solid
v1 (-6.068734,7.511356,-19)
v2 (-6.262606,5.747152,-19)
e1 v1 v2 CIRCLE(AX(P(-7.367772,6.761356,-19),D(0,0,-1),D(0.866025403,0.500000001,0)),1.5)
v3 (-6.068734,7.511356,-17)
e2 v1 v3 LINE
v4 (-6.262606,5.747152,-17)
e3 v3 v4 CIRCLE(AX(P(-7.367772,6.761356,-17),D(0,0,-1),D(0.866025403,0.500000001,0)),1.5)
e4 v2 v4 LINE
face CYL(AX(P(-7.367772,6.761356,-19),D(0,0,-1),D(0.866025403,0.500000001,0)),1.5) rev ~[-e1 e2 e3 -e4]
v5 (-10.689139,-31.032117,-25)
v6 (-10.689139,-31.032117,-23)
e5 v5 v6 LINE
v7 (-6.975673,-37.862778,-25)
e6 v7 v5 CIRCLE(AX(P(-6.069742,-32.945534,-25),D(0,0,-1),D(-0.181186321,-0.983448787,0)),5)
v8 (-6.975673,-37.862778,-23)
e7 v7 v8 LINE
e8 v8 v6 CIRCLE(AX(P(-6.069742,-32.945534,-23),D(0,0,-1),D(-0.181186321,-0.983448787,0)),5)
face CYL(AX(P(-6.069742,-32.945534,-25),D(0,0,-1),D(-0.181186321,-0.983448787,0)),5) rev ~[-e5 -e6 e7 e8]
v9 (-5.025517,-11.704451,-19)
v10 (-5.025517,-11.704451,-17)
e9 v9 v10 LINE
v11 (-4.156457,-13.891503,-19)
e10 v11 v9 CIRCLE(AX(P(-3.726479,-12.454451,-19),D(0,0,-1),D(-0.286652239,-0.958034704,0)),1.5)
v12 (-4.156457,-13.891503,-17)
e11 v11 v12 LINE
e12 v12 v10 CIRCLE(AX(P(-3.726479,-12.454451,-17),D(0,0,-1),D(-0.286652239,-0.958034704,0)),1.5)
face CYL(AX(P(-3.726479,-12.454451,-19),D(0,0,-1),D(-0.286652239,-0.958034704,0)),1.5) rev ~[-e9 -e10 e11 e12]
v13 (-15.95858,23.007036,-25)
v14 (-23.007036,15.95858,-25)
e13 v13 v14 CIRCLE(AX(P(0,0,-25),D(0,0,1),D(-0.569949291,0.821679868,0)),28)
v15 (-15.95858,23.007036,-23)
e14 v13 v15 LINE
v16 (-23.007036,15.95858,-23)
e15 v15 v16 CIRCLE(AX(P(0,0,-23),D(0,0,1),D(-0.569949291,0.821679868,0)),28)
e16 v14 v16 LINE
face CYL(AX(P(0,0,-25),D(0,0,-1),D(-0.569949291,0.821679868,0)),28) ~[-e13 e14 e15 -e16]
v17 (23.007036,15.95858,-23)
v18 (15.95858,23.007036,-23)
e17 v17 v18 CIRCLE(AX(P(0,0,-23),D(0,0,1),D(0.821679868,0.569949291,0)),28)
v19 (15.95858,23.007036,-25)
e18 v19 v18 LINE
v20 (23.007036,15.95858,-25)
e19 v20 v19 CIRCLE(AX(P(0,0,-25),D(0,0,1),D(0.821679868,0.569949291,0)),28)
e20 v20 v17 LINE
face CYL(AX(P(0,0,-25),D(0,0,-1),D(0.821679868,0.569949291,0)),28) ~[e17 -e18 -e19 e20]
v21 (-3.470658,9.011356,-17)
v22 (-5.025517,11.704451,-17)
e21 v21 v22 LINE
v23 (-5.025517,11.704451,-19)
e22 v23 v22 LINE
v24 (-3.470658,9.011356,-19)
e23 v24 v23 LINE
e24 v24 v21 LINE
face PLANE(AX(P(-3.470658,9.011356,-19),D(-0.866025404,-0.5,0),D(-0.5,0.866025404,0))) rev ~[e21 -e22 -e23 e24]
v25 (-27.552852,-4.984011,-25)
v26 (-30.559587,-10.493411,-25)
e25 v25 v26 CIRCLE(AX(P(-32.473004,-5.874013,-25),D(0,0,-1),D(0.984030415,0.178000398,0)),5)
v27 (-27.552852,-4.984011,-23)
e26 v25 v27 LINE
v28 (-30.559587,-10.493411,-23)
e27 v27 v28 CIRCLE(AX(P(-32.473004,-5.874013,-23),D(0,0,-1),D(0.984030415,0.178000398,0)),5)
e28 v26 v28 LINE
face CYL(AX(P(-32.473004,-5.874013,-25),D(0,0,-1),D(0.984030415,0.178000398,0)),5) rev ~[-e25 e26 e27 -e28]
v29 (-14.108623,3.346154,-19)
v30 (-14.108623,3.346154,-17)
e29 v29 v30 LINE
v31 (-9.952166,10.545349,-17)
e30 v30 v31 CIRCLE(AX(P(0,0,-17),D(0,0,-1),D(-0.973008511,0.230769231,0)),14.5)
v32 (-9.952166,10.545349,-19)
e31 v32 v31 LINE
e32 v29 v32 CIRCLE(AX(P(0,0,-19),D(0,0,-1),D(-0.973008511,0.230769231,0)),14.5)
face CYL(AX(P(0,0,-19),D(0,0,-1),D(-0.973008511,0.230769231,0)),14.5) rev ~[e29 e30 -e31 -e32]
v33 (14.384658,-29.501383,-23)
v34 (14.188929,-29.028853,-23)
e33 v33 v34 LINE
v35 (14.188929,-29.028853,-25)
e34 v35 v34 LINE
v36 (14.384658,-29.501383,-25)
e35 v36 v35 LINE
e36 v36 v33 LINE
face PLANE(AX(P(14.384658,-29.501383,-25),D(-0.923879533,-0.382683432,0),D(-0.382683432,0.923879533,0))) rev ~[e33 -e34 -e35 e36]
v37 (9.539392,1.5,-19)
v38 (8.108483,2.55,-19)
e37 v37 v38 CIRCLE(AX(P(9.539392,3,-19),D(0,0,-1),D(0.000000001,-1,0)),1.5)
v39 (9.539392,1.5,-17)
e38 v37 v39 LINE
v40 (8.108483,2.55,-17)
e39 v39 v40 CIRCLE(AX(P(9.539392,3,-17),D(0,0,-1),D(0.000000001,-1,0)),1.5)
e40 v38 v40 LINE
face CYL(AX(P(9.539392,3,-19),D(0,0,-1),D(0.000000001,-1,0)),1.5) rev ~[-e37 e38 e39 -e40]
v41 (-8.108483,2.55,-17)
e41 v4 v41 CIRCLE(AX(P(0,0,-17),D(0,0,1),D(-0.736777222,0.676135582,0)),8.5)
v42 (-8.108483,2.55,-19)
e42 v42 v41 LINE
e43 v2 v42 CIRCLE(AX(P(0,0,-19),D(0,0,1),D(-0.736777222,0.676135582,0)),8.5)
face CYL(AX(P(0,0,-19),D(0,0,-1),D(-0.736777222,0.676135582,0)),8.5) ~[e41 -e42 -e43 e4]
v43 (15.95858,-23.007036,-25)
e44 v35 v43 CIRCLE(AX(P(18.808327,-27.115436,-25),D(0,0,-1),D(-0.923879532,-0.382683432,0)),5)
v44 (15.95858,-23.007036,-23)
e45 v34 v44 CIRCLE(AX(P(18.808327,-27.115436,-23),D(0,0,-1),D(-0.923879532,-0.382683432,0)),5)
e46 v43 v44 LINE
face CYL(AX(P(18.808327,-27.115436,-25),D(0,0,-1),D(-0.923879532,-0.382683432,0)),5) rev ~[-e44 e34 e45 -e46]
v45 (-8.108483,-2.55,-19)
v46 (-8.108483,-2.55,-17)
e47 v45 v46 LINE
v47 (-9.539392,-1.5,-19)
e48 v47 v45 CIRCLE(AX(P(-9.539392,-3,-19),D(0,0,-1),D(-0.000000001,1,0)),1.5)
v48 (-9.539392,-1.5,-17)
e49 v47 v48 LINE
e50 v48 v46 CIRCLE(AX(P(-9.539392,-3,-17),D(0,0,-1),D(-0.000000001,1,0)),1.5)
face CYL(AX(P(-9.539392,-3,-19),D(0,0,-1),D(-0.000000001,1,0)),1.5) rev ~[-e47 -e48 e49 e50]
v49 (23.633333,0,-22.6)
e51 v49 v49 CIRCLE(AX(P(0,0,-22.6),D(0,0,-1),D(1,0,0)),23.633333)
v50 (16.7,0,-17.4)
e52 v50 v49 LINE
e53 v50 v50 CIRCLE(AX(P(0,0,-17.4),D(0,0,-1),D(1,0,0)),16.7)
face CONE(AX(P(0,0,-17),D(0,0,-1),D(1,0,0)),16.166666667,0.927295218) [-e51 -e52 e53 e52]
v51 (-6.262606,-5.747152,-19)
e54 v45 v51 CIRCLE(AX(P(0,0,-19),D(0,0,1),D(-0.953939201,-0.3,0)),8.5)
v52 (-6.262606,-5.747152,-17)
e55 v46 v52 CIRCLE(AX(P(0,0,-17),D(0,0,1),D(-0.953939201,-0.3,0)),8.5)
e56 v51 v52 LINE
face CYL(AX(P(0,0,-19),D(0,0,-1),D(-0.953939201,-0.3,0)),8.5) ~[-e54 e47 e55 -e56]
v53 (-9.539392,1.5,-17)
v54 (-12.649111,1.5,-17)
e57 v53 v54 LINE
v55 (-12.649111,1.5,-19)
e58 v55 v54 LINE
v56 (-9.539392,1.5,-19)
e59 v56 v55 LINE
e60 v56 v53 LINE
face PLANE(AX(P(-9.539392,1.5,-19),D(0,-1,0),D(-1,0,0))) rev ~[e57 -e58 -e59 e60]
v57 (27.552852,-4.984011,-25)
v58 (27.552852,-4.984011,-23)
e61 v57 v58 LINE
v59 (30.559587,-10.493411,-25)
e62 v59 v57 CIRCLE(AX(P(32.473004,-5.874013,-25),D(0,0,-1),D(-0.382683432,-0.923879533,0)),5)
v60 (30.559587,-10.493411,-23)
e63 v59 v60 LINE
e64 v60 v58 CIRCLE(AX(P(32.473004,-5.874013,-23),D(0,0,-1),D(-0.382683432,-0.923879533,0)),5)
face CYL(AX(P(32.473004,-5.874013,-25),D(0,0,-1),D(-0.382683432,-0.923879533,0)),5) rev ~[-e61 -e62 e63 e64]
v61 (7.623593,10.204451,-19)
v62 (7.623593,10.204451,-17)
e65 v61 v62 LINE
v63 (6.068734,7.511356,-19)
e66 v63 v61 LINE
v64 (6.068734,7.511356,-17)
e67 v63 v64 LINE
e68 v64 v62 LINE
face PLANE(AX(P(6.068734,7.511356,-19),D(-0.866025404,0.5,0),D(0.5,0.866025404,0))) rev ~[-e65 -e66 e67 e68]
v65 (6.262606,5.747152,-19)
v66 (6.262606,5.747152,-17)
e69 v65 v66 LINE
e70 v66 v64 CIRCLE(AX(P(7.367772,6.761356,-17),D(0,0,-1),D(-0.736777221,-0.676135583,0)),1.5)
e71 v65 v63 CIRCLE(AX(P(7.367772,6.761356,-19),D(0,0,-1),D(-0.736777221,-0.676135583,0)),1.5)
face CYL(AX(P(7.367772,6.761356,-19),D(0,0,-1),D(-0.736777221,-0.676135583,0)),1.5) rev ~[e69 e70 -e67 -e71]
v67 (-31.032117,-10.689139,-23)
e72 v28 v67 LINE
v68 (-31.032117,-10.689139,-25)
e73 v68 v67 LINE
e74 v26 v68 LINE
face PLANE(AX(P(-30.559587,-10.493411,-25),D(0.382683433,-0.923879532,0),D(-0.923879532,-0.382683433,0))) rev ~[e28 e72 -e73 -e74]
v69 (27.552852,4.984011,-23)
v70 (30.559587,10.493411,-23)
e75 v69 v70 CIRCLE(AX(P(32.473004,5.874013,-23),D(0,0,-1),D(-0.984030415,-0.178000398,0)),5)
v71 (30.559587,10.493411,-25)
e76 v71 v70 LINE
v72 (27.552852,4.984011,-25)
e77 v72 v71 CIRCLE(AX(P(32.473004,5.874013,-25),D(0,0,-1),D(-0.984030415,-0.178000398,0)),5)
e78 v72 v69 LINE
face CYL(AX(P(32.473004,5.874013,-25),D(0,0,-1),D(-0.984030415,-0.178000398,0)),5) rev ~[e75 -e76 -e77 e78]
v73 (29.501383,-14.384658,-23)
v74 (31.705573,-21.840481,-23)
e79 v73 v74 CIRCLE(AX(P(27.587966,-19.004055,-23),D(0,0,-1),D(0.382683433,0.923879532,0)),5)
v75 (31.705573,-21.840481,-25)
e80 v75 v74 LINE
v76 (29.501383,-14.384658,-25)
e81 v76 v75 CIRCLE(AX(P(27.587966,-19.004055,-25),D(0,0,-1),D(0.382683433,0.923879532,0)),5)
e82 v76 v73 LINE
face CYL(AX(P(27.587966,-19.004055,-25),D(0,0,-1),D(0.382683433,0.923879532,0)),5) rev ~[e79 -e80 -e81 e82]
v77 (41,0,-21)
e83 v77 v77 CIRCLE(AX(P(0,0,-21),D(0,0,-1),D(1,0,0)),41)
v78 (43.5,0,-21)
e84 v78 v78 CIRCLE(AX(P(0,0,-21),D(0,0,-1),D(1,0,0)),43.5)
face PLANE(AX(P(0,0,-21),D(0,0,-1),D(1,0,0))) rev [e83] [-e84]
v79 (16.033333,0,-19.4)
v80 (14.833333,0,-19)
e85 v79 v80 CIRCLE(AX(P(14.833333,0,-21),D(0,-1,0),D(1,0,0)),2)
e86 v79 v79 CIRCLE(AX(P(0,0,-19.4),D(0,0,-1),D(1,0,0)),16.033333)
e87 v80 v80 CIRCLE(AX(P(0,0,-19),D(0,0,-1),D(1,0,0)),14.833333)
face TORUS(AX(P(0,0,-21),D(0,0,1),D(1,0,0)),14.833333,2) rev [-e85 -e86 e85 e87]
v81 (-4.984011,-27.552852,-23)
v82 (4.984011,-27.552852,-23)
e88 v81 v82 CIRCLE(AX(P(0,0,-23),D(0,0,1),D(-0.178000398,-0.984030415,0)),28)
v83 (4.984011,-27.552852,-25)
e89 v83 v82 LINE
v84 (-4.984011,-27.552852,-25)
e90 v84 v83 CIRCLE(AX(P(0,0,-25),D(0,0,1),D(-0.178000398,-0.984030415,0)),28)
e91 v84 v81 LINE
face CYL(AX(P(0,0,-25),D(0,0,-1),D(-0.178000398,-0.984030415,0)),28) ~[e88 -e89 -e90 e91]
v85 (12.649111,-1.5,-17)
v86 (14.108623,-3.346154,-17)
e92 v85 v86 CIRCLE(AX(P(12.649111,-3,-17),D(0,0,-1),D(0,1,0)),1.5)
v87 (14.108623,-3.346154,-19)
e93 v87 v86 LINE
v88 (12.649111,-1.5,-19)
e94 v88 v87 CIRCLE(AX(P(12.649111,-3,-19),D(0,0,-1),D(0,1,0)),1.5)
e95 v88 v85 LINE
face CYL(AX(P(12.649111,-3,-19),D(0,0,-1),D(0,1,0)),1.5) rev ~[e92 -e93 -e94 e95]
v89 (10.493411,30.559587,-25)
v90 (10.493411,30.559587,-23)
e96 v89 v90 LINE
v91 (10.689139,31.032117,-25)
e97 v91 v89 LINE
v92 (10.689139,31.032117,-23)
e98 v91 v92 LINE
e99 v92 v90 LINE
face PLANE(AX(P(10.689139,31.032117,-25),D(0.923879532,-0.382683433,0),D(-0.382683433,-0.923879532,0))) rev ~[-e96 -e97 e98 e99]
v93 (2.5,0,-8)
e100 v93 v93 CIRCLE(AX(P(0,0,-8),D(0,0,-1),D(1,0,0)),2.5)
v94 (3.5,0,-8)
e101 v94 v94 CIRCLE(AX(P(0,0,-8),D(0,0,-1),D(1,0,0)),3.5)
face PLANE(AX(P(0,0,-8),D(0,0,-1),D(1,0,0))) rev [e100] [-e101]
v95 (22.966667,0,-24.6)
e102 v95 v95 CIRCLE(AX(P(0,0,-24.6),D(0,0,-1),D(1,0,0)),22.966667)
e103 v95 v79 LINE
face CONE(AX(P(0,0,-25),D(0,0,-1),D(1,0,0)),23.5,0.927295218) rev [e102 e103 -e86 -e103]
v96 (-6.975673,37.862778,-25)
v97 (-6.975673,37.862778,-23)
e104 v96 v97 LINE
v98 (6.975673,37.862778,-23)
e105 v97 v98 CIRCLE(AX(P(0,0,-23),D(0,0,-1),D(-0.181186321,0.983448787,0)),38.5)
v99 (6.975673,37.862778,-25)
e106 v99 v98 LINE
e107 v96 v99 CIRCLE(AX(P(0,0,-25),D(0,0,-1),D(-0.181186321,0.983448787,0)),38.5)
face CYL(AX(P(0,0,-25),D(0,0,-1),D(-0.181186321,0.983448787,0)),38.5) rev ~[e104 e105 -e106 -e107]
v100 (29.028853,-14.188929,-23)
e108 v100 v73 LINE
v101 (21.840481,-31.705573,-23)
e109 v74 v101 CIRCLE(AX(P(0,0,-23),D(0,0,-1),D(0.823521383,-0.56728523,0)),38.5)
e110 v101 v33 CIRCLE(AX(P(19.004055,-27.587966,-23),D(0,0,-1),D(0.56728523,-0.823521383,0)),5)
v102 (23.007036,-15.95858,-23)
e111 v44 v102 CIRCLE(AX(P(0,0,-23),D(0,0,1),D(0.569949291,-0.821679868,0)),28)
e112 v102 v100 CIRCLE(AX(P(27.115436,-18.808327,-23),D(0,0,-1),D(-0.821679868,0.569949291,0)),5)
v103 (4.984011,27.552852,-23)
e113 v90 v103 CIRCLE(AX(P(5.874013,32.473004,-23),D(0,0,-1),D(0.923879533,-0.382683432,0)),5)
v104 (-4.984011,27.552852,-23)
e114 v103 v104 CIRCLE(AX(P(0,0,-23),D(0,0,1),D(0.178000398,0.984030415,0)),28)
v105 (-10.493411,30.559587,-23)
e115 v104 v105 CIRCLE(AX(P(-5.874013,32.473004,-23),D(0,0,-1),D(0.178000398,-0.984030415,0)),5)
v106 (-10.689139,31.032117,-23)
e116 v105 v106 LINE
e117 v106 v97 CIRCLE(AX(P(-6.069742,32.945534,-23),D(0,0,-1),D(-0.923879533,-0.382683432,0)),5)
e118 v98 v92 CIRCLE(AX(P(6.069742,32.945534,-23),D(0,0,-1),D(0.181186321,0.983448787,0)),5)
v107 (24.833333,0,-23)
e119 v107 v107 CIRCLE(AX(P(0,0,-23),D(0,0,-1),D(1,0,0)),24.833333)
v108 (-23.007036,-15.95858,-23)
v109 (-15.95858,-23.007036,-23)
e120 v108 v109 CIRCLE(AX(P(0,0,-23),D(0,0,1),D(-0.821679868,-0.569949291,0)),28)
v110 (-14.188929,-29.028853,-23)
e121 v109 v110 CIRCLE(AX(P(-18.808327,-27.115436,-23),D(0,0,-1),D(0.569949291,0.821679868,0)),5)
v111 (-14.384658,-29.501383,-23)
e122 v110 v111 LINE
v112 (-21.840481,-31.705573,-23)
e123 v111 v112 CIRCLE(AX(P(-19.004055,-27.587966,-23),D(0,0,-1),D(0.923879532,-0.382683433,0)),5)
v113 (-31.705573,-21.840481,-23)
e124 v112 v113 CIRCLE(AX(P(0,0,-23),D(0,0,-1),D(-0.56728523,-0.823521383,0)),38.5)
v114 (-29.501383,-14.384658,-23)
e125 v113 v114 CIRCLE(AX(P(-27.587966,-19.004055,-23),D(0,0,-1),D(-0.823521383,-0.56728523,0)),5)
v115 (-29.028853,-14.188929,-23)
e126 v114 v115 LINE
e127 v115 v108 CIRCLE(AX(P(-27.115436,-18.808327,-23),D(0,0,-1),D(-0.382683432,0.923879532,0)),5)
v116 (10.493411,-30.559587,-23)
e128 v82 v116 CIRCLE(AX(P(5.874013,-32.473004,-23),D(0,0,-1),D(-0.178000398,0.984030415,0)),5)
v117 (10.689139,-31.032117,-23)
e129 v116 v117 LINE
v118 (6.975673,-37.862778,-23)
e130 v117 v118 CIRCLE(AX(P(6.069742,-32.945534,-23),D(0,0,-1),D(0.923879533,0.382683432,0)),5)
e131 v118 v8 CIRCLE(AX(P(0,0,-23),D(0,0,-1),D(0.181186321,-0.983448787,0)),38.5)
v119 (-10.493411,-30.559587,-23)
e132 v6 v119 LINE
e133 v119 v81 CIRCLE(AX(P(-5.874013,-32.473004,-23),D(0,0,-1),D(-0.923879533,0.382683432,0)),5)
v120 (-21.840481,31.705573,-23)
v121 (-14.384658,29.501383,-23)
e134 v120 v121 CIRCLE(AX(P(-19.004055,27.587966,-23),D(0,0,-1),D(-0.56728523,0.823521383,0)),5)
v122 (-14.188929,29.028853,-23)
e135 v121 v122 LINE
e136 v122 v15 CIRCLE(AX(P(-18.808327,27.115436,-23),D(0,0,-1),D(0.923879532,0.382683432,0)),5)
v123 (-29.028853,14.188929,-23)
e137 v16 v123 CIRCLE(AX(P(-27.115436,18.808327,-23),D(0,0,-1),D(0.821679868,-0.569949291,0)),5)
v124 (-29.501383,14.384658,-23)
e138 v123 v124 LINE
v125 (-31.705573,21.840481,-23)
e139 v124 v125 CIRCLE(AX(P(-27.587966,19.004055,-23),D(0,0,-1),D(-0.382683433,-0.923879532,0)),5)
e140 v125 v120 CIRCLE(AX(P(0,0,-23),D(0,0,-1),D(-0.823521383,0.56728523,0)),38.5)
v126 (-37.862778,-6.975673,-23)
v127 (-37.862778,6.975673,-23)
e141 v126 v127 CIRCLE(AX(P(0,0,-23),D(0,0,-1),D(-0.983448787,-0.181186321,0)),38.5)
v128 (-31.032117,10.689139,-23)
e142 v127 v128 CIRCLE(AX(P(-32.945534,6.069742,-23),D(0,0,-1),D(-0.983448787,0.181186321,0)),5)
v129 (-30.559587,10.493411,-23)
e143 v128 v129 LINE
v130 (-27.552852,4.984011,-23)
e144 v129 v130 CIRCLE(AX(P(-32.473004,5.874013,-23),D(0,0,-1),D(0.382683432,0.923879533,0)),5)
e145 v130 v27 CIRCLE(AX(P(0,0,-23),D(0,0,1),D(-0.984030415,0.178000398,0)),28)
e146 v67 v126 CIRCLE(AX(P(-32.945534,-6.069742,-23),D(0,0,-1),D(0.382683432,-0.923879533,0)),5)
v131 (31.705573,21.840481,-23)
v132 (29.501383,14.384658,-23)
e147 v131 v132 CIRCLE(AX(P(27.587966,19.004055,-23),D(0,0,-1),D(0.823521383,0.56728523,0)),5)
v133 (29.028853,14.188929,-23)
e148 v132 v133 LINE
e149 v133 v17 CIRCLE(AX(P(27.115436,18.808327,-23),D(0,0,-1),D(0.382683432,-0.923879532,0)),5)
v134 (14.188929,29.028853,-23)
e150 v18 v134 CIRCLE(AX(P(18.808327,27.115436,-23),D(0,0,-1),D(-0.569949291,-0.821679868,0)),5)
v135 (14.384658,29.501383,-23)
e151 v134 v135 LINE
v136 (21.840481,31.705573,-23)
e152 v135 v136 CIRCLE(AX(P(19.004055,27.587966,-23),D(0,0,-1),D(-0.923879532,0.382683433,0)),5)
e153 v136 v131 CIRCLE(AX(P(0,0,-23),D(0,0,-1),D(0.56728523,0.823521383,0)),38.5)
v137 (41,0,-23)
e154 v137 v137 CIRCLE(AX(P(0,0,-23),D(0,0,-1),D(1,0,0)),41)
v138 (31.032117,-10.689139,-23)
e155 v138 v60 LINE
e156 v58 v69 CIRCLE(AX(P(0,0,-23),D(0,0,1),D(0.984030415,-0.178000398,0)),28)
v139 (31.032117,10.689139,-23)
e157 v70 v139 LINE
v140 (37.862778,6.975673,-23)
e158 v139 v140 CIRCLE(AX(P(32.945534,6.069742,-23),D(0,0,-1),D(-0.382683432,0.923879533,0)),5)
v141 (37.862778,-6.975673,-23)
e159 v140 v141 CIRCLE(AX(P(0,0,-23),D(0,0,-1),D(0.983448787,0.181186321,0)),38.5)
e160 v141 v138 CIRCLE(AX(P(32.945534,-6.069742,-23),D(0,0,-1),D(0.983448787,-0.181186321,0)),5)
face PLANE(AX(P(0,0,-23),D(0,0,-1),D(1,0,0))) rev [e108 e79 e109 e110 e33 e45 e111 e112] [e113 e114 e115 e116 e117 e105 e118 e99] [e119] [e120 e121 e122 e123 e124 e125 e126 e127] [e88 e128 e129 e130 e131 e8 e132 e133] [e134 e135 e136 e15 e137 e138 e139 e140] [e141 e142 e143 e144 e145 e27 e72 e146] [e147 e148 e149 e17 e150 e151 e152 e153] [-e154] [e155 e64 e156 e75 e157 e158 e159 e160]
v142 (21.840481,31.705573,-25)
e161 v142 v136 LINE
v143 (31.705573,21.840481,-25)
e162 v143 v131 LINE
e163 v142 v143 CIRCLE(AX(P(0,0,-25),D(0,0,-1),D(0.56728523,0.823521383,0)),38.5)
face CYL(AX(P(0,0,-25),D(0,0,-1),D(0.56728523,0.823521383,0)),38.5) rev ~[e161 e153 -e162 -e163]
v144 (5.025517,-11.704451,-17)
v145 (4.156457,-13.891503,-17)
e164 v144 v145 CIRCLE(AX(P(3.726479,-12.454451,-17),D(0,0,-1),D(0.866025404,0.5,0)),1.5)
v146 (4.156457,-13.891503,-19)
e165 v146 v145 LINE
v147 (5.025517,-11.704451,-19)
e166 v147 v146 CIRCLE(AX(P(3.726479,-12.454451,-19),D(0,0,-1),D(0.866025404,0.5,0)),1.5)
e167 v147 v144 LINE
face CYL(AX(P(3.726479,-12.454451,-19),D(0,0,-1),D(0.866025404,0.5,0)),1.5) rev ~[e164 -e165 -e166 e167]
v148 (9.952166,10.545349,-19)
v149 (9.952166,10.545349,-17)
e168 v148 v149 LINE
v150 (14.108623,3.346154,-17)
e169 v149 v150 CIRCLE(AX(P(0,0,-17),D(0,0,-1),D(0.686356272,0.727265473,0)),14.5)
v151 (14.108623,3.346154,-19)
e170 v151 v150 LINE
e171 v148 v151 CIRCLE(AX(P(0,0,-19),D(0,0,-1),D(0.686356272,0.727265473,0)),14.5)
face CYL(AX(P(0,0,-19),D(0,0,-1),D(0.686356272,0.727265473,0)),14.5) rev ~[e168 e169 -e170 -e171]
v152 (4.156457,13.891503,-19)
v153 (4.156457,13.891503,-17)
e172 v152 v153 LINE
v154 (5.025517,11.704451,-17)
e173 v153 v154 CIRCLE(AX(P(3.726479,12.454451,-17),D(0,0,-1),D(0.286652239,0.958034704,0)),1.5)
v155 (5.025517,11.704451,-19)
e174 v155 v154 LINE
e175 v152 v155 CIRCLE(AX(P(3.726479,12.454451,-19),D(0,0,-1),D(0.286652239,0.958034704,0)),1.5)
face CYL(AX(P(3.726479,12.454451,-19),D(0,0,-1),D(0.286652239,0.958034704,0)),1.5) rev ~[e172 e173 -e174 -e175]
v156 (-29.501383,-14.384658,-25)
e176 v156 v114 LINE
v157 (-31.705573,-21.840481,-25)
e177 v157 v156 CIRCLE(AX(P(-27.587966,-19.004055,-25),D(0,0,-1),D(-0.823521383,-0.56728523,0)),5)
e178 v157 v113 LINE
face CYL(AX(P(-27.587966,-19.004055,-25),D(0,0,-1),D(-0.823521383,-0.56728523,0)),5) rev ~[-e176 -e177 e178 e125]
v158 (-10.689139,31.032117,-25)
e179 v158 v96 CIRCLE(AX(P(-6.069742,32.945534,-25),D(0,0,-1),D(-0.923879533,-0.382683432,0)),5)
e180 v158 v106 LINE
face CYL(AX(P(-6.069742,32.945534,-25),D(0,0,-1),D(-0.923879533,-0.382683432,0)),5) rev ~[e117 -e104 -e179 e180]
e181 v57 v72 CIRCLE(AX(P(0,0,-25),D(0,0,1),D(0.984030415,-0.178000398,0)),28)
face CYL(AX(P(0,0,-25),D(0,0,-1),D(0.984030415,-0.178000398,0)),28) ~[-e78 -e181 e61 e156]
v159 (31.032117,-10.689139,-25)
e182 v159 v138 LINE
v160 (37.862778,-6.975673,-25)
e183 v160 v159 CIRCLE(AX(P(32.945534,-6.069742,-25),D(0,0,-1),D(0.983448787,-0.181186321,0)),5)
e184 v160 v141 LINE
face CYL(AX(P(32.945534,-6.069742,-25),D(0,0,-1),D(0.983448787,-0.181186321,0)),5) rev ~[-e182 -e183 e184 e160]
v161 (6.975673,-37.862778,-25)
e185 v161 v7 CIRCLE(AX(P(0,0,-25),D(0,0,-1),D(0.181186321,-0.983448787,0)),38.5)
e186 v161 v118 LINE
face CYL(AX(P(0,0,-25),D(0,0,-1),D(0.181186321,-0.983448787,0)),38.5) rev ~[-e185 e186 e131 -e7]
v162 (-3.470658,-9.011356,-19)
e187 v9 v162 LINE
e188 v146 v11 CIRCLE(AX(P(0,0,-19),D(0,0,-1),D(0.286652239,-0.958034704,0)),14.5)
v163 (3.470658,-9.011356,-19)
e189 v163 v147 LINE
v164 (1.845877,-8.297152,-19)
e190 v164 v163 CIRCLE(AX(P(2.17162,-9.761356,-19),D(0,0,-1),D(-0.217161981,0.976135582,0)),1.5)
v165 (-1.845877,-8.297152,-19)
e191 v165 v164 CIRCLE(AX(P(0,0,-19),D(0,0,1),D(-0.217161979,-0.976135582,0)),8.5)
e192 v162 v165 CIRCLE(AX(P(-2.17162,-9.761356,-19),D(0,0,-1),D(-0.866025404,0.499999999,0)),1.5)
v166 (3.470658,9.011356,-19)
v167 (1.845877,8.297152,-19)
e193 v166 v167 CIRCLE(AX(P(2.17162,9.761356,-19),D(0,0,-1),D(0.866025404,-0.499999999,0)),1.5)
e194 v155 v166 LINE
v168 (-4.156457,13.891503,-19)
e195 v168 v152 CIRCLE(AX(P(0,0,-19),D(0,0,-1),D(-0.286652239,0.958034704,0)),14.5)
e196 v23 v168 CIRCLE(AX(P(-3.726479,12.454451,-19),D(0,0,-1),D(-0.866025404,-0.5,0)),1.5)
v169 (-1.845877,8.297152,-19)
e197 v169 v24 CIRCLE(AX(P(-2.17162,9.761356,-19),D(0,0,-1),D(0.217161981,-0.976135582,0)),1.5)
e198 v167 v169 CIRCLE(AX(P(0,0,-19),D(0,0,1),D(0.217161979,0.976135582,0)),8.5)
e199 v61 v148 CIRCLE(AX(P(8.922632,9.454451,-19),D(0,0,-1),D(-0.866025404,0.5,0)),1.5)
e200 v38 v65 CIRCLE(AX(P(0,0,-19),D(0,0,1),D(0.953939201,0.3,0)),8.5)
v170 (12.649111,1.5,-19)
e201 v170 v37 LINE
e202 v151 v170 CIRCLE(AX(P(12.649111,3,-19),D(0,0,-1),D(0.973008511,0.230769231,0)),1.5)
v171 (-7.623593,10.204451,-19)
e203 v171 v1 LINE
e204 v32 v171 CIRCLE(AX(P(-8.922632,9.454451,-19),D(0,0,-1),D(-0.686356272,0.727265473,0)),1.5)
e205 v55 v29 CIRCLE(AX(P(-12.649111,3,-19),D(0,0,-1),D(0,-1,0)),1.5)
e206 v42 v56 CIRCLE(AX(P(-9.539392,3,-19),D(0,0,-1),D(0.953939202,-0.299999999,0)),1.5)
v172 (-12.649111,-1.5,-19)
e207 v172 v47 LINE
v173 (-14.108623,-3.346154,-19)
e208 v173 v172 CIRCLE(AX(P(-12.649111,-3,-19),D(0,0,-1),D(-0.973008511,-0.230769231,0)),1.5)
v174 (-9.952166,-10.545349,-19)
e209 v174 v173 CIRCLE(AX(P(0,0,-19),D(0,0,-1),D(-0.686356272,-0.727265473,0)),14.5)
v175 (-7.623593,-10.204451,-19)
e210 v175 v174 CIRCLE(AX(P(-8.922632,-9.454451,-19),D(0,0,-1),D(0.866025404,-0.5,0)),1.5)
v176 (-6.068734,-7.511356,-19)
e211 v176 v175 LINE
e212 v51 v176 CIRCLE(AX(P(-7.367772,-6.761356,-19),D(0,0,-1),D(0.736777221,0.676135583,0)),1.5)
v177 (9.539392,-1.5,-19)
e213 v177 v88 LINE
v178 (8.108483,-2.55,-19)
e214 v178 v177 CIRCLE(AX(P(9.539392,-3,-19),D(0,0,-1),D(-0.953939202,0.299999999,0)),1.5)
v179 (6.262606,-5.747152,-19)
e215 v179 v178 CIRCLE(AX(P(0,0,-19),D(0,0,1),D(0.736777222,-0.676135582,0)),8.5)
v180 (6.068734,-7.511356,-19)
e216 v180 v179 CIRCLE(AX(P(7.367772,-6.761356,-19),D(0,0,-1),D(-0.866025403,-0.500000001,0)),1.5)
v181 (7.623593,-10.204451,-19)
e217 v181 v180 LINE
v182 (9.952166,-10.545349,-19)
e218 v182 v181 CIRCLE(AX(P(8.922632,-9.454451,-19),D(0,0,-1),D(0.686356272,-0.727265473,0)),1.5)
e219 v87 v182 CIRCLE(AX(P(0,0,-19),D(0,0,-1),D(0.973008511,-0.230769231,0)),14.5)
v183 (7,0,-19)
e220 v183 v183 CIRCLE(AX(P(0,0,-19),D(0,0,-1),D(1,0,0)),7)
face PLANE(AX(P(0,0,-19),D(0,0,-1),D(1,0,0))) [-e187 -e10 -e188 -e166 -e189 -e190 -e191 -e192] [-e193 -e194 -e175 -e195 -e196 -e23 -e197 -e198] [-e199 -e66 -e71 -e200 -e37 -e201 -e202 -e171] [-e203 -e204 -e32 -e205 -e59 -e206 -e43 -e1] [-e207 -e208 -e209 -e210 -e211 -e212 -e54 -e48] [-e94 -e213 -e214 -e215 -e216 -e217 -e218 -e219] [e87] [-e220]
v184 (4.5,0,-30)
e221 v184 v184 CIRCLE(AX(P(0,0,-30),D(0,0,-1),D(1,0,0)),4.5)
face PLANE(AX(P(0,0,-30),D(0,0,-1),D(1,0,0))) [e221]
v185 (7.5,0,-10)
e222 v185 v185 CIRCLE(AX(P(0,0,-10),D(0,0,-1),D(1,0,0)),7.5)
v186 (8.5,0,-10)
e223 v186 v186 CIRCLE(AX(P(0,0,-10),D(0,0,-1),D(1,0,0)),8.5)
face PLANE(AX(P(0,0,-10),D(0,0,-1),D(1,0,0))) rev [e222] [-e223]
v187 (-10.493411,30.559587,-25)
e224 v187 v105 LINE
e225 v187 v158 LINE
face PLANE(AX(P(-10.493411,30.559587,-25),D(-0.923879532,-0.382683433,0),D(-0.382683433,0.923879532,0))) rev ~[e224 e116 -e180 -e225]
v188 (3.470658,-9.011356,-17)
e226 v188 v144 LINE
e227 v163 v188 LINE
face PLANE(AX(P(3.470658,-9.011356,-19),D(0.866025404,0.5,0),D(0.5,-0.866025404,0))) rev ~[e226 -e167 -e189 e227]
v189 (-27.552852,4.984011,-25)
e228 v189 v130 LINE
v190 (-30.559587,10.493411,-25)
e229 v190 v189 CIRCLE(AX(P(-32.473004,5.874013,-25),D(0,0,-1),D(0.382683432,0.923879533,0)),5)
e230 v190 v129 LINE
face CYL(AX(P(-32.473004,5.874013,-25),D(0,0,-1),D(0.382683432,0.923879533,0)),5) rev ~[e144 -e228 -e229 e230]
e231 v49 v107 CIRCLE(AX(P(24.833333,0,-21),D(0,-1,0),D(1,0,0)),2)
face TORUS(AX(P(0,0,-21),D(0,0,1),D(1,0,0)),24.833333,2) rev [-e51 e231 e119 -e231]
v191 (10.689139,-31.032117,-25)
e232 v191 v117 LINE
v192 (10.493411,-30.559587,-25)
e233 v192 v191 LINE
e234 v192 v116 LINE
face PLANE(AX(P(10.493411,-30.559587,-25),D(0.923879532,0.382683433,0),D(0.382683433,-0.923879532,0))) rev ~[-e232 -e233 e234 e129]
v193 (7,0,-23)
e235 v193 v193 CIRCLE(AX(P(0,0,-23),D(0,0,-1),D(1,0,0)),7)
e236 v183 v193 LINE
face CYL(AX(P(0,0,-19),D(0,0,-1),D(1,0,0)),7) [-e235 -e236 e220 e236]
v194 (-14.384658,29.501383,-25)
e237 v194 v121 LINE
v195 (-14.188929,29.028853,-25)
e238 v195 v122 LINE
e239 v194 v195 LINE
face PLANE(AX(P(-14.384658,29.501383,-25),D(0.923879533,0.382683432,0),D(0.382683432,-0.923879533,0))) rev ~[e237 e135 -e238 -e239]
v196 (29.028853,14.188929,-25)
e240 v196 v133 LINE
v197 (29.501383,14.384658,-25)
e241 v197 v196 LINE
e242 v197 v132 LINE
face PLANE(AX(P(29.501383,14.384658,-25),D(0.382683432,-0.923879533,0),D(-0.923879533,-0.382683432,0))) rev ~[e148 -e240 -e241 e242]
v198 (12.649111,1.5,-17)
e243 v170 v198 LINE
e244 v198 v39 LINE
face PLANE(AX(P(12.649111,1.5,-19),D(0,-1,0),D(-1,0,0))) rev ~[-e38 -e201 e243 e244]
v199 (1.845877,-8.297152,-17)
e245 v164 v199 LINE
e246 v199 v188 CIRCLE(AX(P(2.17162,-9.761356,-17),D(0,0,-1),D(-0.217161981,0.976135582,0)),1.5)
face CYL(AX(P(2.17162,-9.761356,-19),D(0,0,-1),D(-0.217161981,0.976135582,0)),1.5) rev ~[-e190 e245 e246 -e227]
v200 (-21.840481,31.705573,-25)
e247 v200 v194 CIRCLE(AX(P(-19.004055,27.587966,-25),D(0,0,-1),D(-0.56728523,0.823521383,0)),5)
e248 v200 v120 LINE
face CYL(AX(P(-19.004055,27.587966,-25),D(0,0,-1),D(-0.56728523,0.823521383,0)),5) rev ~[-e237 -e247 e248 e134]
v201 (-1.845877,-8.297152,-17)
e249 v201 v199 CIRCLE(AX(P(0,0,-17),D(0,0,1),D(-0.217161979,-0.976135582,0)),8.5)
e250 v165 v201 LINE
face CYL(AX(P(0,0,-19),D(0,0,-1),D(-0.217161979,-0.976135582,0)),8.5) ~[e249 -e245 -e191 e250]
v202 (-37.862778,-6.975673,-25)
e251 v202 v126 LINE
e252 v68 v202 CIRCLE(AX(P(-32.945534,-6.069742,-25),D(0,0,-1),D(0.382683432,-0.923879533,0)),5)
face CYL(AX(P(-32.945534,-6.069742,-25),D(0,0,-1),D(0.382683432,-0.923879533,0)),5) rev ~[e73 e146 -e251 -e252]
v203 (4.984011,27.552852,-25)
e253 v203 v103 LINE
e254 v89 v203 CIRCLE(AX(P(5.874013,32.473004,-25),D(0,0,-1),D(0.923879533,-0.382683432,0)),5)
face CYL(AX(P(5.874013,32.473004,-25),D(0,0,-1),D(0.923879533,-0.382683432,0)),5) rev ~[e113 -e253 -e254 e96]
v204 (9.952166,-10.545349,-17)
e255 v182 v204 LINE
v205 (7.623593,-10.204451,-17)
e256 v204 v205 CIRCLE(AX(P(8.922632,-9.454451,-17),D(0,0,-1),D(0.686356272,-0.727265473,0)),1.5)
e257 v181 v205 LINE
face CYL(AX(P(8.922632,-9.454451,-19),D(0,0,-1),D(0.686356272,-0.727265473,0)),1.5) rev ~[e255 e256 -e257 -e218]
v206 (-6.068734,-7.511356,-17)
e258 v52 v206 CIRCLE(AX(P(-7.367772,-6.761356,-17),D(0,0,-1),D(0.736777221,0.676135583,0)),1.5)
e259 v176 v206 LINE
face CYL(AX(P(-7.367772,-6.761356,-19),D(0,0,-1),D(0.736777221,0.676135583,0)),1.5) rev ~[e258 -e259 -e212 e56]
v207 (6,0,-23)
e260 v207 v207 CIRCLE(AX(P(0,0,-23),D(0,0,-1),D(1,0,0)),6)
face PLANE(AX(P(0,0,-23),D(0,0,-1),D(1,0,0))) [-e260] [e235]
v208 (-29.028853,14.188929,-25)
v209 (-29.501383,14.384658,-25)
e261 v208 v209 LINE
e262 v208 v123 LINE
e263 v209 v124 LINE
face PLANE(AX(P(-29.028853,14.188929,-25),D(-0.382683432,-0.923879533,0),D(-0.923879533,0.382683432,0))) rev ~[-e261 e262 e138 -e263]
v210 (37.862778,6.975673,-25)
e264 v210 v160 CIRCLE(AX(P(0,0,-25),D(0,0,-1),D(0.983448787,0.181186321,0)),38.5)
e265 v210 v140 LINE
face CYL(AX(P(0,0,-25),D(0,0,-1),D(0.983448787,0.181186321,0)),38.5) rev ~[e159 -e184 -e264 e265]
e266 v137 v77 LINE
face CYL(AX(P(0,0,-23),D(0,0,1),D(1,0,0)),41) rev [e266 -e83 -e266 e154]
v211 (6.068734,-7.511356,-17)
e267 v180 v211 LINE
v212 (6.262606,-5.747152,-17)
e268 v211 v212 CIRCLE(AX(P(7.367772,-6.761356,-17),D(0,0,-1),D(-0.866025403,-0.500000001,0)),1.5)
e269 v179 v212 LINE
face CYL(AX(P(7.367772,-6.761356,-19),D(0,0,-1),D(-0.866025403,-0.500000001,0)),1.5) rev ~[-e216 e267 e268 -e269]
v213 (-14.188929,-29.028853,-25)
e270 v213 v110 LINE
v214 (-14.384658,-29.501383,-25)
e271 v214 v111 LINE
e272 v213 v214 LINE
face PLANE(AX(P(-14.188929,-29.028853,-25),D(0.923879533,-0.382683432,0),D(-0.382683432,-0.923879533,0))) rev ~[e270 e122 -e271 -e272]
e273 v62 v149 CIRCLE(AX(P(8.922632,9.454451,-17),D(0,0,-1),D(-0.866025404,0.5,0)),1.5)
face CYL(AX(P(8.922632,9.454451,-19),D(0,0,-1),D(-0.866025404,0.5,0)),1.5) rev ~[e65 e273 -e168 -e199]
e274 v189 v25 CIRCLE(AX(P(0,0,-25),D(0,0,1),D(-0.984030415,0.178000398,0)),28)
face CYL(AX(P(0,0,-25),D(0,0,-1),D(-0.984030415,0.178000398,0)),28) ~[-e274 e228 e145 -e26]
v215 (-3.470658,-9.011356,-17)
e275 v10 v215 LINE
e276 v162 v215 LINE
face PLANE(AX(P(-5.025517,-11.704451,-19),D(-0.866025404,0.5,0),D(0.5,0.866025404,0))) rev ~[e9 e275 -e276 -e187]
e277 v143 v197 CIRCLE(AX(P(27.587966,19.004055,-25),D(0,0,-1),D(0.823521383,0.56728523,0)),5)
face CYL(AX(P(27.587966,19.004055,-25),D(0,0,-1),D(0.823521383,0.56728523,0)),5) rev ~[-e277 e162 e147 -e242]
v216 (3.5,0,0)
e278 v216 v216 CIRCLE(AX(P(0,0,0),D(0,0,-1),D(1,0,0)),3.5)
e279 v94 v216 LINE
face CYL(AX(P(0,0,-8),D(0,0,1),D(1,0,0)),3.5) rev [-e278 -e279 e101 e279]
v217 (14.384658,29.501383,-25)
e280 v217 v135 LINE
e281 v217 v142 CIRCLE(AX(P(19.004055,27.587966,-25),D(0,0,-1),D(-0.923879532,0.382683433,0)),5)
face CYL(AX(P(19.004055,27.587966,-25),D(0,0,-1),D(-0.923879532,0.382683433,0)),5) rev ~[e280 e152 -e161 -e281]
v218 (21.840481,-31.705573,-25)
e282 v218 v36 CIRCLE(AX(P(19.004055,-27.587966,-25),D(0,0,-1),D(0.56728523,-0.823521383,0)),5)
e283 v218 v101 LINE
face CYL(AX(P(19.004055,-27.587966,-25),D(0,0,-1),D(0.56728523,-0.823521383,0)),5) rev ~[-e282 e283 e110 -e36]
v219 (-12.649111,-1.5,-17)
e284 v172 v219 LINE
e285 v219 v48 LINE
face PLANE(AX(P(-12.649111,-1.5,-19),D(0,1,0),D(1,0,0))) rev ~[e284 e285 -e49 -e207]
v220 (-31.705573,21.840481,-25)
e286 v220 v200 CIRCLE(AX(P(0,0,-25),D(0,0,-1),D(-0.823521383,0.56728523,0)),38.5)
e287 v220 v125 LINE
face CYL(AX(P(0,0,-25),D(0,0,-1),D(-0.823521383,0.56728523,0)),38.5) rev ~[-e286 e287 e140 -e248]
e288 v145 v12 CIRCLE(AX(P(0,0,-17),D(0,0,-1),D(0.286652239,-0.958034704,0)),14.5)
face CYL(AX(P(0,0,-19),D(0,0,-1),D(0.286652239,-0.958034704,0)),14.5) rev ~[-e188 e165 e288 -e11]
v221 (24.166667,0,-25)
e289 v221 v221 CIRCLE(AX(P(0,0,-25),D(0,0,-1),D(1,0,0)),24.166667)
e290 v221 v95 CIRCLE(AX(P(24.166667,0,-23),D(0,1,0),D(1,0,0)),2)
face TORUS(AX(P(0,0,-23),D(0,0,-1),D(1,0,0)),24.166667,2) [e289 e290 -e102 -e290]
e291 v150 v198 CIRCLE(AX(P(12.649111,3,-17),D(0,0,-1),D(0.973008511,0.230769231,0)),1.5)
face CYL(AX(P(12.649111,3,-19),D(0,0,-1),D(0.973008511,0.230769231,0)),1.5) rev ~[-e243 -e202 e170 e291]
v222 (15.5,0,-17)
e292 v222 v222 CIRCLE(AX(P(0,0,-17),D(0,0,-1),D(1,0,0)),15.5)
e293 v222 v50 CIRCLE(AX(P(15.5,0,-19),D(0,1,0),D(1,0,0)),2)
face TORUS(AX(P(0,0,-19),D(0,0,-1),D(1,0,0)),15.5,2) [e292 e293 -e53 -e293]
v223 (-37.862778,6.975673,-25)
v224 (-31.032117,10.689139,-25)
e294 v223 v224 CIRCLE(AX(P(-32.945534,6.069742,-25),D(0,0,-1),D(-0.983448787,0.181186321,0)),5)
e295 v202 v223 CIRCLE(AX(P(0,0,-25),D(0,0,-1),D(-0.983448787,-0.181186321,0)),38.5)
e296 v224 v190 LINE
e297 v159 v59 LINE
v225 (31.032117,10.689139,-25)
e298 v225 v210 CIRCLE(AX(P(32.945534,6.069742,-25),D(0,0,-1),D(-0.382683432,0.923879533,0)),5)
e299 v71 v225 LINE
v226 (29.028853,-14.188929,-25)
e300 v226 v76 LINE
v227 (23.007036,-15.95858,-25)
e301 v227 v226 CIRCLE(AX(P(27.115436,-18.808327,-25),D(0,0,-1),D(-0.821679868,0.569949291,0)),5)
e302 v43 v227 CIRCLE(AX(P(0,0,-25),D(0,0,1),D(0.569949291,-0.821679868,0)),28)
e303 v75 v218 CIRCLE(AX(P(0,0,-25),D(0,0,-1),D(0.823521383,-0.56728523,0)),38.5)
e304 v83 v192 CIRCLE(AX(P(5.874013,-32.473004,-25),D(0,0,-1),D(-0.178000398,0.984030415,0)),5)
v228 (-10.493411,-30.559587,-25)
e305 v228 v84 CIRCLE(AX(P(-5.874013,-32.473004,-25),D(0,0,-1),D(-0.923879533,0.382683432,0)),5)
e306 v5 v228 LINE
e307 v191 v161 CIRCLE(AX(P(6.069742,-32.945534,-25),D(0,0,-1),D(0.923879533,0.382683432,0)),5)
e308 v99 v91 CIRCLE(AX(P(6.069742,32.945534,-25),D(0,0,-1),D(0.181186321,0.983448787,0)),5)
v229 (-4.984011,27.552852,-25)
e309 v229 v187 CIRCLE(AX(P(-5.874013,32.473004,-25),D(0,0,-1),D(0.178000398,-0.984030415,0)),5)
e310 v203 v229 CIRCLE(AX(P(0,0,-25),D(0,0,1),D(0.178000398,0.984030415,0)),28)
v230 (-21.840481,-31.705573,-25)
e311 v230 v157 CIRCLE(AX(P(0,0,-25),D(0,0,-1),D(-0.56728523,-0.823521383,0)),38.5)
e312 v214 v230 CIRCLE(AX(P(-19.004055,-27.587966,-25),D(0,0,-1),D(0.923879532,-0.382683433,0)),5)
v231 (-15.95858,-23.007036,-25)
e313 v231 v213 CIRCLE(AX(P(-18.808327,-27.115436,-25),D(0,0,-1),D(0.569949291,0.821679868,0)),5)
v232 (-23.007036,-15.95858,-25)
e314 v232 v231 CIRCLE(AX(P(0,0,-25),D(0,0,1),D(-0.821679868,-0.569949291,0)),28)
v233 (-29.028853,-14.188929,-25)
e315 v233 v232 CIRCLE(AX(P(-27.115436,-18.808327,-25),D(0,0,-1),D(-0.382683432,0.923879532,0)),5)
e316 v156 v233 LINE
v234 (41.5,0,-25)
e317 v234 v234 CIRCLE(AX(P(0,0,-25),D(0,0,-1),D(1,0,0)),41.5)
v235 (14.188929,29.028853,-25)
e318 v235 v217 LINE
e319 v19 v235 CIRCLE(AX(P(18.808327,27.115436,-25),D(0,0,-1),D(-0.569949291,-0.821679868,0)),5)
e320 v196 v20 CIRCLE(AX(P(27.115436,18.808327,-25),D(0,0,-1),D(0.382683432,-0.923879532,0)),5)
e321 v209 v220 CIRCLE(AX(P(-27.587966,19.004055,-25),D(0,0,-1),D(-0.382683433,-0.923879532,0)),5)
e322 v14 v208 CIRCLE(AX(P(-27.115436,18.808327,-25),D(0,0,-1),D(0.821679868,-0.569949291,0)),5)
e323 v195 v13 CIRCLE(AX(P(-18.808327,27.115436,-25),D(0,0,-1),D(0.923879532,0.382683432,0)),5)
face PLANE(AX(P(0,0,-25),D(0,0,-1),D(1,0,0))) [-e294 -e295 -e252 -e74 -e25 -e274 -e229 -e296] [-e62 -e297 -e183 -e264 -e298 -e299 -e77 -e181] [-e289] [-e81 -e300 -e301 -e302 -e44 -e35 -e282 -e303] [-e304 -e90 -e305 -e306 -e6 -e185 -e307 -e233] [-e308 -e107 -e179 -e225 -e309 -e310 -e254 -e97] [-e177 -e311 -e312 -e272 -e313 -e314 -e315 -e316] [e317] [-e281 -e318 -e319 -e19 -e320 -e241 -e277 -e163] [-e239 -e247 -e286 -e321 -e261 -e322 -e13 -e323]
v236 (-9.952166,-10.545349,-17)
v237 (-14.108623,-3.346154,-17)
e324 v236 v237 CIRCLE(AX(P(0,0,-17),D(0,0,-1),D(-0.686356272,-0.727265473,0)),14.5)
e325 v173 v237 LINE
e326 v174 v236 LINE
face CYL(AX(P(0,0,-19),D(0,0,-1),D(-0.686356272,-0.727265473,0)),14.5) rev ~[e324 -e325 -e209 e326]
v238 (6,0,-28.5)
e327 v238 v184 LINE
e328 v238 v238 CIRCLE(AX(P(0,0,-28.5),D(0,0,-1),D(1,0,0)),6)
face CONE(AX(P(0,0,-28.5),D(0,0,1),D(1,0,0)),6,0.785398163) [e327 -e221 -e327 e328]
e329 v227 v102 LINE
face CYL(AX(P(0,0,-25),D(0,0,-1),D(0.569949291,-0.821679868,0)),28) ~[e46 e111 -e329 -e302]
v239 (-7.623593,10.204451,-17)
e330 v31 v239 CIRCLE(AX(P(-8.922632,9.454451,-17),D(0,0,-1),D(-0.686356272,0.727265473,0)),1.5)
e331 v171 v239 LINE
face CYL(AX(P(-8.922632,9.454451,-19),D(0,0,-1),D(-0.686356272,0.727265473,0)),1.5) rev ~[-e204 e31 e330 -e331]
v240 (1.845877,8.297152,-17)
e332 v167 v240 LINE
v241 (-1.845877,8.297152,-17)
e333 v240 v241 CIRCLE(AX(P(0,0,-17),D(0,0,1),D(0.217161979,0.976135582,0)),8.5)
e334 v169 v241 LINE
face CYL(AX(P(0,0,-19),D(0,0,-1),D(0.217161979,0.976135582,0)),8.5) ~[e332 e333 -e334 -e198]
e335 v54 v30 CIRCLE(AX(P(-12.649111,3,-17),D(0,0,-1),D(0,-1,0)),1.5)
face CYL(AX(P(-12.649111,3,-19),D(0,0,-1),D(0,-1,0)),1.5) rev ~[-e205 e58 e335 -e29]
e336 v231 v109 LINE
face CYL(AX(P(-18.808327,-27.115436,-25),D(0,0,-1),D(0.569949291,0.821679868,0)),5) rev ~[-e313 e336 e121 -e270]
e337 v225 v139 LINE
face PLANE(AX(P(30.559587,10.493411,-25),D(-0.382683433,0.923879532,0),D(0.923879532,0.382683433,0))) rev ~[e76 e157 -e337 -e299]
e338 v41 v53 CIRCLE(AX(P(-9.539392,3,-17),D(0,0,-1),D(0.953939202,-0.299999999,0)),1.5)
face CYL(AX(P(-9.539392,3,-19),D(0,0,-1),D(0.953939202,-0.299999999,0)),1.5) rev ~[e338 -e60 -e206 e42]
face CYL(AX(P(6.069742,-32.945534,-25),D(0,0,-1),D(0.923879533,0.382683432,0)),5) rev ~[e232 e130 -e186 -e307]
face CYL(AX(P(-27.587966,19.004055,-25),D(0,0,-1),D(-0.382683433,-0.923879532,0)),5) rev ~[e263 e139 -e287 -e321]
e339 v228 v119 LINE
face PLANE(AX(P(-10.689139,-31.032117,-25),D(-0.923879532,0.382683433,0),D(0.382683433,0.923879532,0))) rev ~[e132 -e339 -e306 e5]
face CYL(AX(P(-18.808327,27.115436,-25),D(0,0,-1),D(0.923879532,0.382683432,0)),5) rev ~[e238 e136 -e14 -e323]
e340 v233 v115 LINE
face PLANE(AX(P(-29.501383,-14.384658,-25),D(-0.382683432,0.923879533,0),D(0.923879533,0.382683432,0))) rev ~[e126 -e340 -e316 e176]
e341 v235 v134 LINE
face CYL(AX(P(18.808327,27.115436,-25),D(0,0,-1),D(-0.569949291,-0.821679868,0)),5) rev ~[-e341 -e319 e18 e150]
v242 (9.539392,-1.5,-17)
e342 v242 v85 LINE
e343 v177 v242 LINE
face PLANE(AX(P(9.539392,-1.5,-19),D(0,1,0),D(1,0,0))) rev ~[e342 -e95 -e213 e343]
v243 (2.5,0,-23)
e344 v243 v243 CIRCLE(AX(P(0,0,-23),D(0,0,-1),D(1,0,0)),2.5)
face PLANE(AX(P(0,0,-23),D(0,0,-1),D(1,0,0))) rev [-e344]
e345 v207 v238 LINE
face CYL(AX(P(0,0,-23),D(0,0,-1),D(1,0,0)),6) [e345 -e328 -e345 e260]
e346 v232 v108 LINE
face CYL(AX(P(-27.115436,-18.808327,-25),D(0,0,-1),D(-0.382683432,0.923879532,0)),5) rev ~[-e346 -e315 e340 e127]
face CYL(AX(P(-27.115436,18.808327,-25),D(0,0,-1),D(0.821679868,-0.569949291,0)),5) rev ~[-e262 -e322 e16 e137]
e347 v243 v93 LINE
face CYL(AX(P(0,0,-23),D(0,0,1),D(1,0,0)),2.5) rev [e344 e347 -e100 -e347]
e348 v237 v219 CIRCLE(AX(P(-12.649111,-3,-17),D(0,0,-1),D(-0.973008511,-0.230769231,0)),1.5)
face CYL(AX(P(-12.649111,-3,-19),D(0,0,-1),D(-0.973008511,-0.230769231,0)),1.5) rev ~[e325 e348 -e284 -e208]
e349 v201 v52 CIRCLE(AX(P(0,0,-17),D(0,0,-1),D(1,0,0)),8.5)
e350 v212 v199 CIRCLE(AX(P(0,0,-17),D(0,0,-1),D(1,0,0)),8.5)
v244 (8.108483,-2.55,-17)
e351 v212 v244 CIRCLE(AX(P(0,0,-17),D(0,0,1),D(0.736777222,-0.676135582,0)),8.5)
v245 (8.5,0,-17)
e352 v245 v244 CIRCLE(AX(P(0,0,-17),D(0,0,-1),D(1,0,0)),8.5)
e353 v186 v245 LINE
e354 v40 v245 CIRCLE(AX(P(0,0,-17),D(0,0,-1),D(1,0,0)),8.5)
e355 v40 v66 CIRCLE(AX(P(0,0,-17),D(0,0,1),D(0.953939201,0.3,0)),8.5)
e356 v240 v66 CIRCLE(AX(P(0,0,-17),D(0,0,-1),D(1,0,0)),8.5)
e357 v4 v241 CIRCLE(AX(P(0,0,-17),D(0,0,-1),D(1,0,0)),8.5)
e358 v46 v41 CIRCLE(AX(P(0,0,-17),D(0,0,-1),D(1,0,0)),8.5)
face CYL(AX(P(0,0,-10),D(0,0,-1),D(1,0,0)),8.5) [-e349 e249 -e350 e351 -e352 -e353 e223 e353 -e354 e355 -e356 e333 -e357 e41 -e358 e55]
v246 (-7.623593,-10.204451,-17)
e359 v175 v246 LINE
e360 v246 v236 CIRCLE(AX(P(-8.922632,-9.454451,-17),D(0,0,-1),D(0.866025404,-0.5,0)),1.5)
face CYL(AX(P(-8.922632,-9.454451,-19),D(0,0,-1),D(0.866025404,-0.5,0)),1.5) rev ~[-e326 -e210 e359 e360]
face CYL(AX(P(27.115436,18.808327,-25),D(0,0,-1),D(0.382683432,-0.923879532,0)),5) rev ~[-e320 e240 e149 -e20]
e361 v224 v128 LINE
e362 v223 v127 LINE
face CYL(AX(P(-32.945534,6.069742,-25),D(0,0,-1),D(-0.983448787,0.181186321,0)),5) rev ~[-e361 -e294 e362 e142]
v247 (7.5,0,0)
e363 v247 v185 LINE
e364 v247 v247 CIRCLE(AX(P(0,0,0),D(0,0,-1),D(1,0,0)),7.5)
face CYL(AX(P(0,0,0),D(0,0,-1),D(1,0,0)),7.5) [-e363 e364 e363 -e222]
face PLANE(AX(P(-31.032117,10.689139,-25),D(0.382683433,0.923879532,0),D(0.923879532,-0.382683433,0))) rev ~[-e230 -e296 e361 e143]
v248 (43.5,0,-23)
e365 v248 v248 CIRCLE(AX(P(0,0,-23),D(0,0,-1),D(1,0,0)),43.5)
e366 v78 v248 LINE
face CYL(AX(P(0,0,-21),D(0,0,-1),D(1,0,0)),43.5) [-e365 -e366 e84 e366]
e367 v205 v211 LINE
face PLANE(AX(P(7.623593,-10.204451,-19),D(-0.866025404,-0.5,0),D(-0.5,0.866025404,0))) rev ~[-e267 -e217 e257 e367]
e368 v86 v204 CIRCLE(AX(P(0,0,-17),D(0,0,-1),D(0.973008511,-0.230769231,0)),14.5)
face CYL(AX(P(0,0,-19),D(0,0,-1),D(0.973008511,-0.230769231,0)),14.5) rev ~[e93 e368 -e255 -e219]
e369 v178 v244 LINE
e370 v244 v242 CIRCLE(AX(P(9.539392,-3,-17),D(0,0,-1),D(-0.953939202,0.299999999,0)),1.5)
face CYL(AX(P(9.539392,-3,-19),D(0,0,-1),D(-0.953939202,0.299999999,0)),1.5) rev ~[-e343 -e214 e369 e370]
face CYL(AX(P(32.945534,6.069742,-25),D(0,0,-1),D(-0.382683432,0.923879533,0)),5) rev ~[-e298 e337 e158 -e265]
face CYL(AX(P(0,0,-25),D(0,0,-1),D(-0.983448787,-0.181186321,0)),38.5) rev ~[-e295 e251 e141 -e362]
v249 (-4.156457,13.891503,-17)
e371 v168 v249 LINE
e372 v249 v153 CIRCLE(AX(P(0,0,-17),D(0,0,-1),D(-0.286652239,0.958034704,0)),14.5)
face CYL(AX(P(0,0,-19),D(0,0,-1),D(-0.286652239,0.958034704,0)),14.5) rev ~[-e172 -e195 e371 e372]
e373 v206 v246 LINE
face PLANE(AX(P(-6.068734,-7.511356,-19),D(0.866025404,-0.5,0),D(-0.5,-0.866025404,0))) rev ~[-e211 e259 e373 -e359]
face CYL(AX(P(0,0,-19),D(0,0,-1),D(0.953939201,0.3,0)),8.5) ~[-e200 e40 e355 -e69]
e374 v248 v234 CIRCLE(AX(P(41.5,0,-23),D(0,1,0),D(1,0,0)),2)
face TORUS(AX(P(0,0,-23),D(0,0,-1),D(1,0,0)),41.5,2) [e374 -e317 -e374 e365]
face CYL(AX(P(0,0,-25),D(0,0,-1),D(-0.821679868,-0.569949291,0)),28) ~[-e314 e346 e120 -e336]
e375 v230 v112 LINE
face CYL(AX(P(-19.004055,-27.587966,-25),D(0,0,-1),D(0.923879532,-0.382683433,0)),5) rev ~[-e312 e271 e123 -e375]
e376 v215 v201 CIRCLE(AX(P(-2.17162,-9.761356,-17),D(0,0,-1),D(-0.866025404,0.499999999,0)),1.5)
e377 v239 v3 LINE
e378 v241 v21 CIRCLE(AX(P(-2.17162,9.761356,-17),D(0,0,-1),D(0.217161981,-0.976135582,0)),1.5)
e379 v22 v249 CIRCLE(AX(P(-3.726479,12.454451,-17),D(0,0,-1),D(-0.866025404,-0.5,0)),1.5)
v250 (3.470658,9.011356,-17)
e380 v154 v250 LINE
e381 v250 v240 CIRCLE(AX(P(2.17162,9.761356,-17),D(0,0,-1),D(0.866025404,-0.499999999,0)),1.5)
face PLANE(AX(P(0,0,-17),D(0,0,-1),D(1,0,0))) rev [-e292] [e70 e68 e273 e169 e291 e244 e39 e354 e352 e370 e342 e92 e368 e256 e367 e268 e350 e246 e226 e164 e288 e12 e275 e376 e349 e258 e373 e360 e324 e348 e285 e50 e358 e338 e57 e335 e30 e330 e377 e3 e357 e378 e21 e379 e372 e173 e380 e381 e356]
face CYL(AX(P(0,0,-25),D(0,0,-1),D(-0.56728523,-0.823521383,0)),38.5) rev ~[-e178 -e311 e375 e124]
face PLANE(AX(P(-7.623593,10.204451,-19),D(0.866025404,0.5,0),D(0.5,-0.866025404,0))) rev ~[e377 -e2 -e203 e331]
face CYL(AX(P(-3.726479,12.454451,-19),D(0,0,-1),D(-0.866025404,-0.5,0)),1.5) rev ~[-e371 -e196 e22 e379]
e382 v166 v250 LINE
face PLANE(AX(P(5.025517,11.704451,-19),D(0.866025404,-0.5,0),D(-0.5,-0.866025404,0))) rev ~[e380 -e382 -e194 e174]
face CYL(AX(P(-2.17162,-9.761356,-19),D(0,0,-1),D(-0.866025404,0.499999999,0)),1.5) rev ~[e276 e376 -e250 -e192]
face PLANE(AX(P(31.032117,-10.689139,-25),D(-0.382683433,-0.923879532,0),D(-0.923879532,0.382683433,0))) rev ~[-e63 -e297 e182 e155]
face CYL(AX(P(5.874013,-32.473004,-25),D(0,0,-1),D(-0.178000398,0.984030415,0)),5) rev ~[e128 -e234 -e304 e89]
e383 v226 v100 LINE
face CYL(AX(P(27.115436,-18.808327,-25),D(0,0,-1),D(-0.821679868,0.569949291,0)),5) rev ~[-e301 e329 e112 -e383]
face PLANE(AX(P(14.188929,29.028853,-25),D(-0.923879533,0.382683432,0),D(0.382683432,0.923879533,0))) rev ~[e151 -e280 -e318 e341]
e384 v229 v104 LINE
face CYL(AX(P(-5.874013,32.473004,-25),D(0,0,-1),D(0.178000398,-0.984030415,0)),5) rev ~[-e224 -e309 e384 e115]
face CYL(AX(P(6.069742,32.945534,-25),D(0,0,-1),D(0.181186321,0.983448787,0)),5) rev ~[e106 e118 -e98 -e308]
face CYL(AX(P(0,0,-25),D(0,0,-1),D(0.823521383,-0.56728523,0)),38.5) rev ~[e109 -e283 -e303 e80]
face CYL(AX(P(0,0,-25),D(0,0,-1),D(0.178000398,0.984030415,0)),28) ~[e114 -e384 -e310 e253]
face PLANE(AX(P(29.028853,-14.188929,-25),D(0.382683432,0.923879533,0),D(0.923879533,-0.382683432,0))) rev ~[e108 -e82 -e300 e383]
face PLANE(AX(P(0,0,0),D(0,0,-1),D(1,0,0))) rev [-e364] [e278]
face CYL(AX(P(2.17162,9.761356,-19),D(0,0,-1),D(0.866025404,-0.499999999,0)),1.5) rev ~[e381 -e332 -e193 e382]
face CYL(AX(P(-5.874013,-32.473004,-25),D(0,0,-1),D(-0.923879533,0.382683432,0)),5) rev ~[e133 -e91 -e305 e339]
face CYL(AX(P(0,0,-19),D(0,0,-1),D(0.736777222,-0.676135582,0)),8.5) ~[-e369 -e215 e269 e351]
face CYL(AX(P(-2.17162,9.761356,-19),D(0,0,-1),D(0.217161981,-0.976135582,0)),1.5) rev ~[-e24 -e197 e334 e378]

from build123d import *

# Parameters (mm, degrees)
FILLET1_R          = 2
CHAMFER1_SIZE      = 1.5
CUT_EXTRUDE1_DEPTH = 2
CIRPATTERN1_COUNT  = 8
CUT_EXTRUDE2_DEPTH = 2
CIRPATTERN2_COUNT  = 6


with BuildPart() as part:
    # Sketch2 → Revolve1 (revolve)
    with BuildSketch(Plane(origin=(0, 0, 0), x_dir=(0, 0, -1), z_dir=(1, 0, 0)), mode=Mode.PRIVATE) as revolve1_sk:
        Polygon((0, 3.5), (0, 7.5), (10, 7.5), (10, 8.5), (17, 8.5), (17, 16.166666667), (23, 24.166666667), (23, 41), (21, 41), (21, 43.5), (25, 43.5), (25, 23.5), (19, 15.5), (19, 7), (23, 7), (23, 6), (30, 6), (30, 0), (23, 0), (23, 2.5), (8, 2.5), (8, 3.5), align=None)
    revolve(revolve1_sk.sketch.rotate(Axis((0, 0, 54.509359295), (0, 0, -1)), 90), axis=Axis((0, 0, 54.509359295), (0, 0, -1)))

    # Fillet1
    fillet1_edges = [part.edges().sort_by_distance(p)[0] for p in [
        (-15.5, 0, -19),
        (-23.5, 0, -25),
        (-43.5, 0, -25),
        (-24.166666667, 0, -23),
        (-16.166666667, 0, -17),
    ]]
    fillet(fillet1_edges, radius=FILLET1_R)

    # Chamfer1
    chamfer1_edges = [part.edges().sort_by_distance(p)[0] for p in [
        (-6, 0, -30),
    ]]
    chamfer(chamfer1_edges, length=CHAMFER1_SIZE)

    # Sketch3 → Cut-Extrude1 (cut)
    with BuildSketch(Plane(origin=(0, 0, -25), x_dir=(-1, 0, 0), z_dir=(0, 0, -1))):
        with BuildLine():
            Line((-10.689139417, 31.03211721), (-10.493410806, 30.559586543))
            ThreePointArc((-10.493410806, 30.559586543), (-8.269260882, 28.084064394), (-4.984011152, 27.552851628))
            ThreePointArc((-4.984011152, 27.552851628), (0, 28), (4.984011152, 27.552851628))
            ThreePointArc((4.984011152, 27.552851628), (8.269260882, 28.084064394), (10.493410806, 30.559586543))
            Line((10.493410806, 30.559586543), (10.689139417, 31.03211721))
            ThreePointArc((10.689139417, 31.03211721), (10.46255391, 35.333672006), (6.975673359, 37.862778308))
            ThreePointArc((6.975673359, 37.862778308), (0, 38.5), (-6.975673359, 37.862778308))
            ThreePointArc((-6.975673359, 37.862778308), (-10.46255391, 35.333672006), (-10.689139417, 31.03211721))
        make_face()
    cut_extrude1 = extrude(amount=-CUT_EXTRUDE1_DEPTH, mode=Mode.SUBTRACT)

    # CirPattern1: Cut-Extrude1 ×8 about axis
    cirpattern1_axis = Axis((0, 0, 0), (0, 0, 1))
    for i in range(1, CIRPATTERN1_COUNT):
        add(cut_extrude1.rotate(cirpattern1_axis, i * 360 / CIRPATTERN1_COUNT), mode=Mode.SUBTRACT)

    # Sketch4 → Cut-Extrude2 (cut)
    with BuildSketch(Plane(origin=(0, 0, -19), x_dir=(-1, 0, 0), z_dir=(0, 0, -1))):
        with BuildLine():
            Line((-5.025517215, 11.70445115), (-3.470657901, 9.011355821))
            ThreePointArc((-3.470657901, 9.011355821), (-2.775231815, 8.388165182), (-1.845876826, 8.297152448))
            ThreePointArc((-1.845876826, 8.297152448), (0, 8.5), (1.845876826, 8.297152448))
            ThreePointArc((1.845876826, 8.297152448), (2.775231815, 8.388165182), (3.470657901, 9.011355821))
            Line((3.470657901, 9.011355821), (5.025517215, 11.70445115))
            ThreePointArc((5.025517215, 11.70445115), (5.120456748, 13.008370226), (4.156457468, 13.891503206))
            ThreePointArc((4.156457468, 13.891503206), (0, 14.5), (-4.156457468, 13.891503206))
            ThreePointArc((-4.156457468, 13.891503206), (-5.120456748, 13.008370226), (-5.025517215, 11.70445115))
        make_face()
    cut_extrude2 = extrude(amount=-CUT_EXTRUDE2_DEPTH, mode=Mode.SUBTRACT)

    # CirPattern2: Cut-Extrude2 ×6 about axis
    cirpattern2_axis = Axis((0, 0, 0), (0, 0, 1))
    for i in range(1, CIRPATTERN2_COUNT):
        add(cut_extrude2.rotate(cirpattern2_axis, i * 360 / CIRPATTERN2_COUNT), mode=Mode.SUBTRACT)


solid = part.part
